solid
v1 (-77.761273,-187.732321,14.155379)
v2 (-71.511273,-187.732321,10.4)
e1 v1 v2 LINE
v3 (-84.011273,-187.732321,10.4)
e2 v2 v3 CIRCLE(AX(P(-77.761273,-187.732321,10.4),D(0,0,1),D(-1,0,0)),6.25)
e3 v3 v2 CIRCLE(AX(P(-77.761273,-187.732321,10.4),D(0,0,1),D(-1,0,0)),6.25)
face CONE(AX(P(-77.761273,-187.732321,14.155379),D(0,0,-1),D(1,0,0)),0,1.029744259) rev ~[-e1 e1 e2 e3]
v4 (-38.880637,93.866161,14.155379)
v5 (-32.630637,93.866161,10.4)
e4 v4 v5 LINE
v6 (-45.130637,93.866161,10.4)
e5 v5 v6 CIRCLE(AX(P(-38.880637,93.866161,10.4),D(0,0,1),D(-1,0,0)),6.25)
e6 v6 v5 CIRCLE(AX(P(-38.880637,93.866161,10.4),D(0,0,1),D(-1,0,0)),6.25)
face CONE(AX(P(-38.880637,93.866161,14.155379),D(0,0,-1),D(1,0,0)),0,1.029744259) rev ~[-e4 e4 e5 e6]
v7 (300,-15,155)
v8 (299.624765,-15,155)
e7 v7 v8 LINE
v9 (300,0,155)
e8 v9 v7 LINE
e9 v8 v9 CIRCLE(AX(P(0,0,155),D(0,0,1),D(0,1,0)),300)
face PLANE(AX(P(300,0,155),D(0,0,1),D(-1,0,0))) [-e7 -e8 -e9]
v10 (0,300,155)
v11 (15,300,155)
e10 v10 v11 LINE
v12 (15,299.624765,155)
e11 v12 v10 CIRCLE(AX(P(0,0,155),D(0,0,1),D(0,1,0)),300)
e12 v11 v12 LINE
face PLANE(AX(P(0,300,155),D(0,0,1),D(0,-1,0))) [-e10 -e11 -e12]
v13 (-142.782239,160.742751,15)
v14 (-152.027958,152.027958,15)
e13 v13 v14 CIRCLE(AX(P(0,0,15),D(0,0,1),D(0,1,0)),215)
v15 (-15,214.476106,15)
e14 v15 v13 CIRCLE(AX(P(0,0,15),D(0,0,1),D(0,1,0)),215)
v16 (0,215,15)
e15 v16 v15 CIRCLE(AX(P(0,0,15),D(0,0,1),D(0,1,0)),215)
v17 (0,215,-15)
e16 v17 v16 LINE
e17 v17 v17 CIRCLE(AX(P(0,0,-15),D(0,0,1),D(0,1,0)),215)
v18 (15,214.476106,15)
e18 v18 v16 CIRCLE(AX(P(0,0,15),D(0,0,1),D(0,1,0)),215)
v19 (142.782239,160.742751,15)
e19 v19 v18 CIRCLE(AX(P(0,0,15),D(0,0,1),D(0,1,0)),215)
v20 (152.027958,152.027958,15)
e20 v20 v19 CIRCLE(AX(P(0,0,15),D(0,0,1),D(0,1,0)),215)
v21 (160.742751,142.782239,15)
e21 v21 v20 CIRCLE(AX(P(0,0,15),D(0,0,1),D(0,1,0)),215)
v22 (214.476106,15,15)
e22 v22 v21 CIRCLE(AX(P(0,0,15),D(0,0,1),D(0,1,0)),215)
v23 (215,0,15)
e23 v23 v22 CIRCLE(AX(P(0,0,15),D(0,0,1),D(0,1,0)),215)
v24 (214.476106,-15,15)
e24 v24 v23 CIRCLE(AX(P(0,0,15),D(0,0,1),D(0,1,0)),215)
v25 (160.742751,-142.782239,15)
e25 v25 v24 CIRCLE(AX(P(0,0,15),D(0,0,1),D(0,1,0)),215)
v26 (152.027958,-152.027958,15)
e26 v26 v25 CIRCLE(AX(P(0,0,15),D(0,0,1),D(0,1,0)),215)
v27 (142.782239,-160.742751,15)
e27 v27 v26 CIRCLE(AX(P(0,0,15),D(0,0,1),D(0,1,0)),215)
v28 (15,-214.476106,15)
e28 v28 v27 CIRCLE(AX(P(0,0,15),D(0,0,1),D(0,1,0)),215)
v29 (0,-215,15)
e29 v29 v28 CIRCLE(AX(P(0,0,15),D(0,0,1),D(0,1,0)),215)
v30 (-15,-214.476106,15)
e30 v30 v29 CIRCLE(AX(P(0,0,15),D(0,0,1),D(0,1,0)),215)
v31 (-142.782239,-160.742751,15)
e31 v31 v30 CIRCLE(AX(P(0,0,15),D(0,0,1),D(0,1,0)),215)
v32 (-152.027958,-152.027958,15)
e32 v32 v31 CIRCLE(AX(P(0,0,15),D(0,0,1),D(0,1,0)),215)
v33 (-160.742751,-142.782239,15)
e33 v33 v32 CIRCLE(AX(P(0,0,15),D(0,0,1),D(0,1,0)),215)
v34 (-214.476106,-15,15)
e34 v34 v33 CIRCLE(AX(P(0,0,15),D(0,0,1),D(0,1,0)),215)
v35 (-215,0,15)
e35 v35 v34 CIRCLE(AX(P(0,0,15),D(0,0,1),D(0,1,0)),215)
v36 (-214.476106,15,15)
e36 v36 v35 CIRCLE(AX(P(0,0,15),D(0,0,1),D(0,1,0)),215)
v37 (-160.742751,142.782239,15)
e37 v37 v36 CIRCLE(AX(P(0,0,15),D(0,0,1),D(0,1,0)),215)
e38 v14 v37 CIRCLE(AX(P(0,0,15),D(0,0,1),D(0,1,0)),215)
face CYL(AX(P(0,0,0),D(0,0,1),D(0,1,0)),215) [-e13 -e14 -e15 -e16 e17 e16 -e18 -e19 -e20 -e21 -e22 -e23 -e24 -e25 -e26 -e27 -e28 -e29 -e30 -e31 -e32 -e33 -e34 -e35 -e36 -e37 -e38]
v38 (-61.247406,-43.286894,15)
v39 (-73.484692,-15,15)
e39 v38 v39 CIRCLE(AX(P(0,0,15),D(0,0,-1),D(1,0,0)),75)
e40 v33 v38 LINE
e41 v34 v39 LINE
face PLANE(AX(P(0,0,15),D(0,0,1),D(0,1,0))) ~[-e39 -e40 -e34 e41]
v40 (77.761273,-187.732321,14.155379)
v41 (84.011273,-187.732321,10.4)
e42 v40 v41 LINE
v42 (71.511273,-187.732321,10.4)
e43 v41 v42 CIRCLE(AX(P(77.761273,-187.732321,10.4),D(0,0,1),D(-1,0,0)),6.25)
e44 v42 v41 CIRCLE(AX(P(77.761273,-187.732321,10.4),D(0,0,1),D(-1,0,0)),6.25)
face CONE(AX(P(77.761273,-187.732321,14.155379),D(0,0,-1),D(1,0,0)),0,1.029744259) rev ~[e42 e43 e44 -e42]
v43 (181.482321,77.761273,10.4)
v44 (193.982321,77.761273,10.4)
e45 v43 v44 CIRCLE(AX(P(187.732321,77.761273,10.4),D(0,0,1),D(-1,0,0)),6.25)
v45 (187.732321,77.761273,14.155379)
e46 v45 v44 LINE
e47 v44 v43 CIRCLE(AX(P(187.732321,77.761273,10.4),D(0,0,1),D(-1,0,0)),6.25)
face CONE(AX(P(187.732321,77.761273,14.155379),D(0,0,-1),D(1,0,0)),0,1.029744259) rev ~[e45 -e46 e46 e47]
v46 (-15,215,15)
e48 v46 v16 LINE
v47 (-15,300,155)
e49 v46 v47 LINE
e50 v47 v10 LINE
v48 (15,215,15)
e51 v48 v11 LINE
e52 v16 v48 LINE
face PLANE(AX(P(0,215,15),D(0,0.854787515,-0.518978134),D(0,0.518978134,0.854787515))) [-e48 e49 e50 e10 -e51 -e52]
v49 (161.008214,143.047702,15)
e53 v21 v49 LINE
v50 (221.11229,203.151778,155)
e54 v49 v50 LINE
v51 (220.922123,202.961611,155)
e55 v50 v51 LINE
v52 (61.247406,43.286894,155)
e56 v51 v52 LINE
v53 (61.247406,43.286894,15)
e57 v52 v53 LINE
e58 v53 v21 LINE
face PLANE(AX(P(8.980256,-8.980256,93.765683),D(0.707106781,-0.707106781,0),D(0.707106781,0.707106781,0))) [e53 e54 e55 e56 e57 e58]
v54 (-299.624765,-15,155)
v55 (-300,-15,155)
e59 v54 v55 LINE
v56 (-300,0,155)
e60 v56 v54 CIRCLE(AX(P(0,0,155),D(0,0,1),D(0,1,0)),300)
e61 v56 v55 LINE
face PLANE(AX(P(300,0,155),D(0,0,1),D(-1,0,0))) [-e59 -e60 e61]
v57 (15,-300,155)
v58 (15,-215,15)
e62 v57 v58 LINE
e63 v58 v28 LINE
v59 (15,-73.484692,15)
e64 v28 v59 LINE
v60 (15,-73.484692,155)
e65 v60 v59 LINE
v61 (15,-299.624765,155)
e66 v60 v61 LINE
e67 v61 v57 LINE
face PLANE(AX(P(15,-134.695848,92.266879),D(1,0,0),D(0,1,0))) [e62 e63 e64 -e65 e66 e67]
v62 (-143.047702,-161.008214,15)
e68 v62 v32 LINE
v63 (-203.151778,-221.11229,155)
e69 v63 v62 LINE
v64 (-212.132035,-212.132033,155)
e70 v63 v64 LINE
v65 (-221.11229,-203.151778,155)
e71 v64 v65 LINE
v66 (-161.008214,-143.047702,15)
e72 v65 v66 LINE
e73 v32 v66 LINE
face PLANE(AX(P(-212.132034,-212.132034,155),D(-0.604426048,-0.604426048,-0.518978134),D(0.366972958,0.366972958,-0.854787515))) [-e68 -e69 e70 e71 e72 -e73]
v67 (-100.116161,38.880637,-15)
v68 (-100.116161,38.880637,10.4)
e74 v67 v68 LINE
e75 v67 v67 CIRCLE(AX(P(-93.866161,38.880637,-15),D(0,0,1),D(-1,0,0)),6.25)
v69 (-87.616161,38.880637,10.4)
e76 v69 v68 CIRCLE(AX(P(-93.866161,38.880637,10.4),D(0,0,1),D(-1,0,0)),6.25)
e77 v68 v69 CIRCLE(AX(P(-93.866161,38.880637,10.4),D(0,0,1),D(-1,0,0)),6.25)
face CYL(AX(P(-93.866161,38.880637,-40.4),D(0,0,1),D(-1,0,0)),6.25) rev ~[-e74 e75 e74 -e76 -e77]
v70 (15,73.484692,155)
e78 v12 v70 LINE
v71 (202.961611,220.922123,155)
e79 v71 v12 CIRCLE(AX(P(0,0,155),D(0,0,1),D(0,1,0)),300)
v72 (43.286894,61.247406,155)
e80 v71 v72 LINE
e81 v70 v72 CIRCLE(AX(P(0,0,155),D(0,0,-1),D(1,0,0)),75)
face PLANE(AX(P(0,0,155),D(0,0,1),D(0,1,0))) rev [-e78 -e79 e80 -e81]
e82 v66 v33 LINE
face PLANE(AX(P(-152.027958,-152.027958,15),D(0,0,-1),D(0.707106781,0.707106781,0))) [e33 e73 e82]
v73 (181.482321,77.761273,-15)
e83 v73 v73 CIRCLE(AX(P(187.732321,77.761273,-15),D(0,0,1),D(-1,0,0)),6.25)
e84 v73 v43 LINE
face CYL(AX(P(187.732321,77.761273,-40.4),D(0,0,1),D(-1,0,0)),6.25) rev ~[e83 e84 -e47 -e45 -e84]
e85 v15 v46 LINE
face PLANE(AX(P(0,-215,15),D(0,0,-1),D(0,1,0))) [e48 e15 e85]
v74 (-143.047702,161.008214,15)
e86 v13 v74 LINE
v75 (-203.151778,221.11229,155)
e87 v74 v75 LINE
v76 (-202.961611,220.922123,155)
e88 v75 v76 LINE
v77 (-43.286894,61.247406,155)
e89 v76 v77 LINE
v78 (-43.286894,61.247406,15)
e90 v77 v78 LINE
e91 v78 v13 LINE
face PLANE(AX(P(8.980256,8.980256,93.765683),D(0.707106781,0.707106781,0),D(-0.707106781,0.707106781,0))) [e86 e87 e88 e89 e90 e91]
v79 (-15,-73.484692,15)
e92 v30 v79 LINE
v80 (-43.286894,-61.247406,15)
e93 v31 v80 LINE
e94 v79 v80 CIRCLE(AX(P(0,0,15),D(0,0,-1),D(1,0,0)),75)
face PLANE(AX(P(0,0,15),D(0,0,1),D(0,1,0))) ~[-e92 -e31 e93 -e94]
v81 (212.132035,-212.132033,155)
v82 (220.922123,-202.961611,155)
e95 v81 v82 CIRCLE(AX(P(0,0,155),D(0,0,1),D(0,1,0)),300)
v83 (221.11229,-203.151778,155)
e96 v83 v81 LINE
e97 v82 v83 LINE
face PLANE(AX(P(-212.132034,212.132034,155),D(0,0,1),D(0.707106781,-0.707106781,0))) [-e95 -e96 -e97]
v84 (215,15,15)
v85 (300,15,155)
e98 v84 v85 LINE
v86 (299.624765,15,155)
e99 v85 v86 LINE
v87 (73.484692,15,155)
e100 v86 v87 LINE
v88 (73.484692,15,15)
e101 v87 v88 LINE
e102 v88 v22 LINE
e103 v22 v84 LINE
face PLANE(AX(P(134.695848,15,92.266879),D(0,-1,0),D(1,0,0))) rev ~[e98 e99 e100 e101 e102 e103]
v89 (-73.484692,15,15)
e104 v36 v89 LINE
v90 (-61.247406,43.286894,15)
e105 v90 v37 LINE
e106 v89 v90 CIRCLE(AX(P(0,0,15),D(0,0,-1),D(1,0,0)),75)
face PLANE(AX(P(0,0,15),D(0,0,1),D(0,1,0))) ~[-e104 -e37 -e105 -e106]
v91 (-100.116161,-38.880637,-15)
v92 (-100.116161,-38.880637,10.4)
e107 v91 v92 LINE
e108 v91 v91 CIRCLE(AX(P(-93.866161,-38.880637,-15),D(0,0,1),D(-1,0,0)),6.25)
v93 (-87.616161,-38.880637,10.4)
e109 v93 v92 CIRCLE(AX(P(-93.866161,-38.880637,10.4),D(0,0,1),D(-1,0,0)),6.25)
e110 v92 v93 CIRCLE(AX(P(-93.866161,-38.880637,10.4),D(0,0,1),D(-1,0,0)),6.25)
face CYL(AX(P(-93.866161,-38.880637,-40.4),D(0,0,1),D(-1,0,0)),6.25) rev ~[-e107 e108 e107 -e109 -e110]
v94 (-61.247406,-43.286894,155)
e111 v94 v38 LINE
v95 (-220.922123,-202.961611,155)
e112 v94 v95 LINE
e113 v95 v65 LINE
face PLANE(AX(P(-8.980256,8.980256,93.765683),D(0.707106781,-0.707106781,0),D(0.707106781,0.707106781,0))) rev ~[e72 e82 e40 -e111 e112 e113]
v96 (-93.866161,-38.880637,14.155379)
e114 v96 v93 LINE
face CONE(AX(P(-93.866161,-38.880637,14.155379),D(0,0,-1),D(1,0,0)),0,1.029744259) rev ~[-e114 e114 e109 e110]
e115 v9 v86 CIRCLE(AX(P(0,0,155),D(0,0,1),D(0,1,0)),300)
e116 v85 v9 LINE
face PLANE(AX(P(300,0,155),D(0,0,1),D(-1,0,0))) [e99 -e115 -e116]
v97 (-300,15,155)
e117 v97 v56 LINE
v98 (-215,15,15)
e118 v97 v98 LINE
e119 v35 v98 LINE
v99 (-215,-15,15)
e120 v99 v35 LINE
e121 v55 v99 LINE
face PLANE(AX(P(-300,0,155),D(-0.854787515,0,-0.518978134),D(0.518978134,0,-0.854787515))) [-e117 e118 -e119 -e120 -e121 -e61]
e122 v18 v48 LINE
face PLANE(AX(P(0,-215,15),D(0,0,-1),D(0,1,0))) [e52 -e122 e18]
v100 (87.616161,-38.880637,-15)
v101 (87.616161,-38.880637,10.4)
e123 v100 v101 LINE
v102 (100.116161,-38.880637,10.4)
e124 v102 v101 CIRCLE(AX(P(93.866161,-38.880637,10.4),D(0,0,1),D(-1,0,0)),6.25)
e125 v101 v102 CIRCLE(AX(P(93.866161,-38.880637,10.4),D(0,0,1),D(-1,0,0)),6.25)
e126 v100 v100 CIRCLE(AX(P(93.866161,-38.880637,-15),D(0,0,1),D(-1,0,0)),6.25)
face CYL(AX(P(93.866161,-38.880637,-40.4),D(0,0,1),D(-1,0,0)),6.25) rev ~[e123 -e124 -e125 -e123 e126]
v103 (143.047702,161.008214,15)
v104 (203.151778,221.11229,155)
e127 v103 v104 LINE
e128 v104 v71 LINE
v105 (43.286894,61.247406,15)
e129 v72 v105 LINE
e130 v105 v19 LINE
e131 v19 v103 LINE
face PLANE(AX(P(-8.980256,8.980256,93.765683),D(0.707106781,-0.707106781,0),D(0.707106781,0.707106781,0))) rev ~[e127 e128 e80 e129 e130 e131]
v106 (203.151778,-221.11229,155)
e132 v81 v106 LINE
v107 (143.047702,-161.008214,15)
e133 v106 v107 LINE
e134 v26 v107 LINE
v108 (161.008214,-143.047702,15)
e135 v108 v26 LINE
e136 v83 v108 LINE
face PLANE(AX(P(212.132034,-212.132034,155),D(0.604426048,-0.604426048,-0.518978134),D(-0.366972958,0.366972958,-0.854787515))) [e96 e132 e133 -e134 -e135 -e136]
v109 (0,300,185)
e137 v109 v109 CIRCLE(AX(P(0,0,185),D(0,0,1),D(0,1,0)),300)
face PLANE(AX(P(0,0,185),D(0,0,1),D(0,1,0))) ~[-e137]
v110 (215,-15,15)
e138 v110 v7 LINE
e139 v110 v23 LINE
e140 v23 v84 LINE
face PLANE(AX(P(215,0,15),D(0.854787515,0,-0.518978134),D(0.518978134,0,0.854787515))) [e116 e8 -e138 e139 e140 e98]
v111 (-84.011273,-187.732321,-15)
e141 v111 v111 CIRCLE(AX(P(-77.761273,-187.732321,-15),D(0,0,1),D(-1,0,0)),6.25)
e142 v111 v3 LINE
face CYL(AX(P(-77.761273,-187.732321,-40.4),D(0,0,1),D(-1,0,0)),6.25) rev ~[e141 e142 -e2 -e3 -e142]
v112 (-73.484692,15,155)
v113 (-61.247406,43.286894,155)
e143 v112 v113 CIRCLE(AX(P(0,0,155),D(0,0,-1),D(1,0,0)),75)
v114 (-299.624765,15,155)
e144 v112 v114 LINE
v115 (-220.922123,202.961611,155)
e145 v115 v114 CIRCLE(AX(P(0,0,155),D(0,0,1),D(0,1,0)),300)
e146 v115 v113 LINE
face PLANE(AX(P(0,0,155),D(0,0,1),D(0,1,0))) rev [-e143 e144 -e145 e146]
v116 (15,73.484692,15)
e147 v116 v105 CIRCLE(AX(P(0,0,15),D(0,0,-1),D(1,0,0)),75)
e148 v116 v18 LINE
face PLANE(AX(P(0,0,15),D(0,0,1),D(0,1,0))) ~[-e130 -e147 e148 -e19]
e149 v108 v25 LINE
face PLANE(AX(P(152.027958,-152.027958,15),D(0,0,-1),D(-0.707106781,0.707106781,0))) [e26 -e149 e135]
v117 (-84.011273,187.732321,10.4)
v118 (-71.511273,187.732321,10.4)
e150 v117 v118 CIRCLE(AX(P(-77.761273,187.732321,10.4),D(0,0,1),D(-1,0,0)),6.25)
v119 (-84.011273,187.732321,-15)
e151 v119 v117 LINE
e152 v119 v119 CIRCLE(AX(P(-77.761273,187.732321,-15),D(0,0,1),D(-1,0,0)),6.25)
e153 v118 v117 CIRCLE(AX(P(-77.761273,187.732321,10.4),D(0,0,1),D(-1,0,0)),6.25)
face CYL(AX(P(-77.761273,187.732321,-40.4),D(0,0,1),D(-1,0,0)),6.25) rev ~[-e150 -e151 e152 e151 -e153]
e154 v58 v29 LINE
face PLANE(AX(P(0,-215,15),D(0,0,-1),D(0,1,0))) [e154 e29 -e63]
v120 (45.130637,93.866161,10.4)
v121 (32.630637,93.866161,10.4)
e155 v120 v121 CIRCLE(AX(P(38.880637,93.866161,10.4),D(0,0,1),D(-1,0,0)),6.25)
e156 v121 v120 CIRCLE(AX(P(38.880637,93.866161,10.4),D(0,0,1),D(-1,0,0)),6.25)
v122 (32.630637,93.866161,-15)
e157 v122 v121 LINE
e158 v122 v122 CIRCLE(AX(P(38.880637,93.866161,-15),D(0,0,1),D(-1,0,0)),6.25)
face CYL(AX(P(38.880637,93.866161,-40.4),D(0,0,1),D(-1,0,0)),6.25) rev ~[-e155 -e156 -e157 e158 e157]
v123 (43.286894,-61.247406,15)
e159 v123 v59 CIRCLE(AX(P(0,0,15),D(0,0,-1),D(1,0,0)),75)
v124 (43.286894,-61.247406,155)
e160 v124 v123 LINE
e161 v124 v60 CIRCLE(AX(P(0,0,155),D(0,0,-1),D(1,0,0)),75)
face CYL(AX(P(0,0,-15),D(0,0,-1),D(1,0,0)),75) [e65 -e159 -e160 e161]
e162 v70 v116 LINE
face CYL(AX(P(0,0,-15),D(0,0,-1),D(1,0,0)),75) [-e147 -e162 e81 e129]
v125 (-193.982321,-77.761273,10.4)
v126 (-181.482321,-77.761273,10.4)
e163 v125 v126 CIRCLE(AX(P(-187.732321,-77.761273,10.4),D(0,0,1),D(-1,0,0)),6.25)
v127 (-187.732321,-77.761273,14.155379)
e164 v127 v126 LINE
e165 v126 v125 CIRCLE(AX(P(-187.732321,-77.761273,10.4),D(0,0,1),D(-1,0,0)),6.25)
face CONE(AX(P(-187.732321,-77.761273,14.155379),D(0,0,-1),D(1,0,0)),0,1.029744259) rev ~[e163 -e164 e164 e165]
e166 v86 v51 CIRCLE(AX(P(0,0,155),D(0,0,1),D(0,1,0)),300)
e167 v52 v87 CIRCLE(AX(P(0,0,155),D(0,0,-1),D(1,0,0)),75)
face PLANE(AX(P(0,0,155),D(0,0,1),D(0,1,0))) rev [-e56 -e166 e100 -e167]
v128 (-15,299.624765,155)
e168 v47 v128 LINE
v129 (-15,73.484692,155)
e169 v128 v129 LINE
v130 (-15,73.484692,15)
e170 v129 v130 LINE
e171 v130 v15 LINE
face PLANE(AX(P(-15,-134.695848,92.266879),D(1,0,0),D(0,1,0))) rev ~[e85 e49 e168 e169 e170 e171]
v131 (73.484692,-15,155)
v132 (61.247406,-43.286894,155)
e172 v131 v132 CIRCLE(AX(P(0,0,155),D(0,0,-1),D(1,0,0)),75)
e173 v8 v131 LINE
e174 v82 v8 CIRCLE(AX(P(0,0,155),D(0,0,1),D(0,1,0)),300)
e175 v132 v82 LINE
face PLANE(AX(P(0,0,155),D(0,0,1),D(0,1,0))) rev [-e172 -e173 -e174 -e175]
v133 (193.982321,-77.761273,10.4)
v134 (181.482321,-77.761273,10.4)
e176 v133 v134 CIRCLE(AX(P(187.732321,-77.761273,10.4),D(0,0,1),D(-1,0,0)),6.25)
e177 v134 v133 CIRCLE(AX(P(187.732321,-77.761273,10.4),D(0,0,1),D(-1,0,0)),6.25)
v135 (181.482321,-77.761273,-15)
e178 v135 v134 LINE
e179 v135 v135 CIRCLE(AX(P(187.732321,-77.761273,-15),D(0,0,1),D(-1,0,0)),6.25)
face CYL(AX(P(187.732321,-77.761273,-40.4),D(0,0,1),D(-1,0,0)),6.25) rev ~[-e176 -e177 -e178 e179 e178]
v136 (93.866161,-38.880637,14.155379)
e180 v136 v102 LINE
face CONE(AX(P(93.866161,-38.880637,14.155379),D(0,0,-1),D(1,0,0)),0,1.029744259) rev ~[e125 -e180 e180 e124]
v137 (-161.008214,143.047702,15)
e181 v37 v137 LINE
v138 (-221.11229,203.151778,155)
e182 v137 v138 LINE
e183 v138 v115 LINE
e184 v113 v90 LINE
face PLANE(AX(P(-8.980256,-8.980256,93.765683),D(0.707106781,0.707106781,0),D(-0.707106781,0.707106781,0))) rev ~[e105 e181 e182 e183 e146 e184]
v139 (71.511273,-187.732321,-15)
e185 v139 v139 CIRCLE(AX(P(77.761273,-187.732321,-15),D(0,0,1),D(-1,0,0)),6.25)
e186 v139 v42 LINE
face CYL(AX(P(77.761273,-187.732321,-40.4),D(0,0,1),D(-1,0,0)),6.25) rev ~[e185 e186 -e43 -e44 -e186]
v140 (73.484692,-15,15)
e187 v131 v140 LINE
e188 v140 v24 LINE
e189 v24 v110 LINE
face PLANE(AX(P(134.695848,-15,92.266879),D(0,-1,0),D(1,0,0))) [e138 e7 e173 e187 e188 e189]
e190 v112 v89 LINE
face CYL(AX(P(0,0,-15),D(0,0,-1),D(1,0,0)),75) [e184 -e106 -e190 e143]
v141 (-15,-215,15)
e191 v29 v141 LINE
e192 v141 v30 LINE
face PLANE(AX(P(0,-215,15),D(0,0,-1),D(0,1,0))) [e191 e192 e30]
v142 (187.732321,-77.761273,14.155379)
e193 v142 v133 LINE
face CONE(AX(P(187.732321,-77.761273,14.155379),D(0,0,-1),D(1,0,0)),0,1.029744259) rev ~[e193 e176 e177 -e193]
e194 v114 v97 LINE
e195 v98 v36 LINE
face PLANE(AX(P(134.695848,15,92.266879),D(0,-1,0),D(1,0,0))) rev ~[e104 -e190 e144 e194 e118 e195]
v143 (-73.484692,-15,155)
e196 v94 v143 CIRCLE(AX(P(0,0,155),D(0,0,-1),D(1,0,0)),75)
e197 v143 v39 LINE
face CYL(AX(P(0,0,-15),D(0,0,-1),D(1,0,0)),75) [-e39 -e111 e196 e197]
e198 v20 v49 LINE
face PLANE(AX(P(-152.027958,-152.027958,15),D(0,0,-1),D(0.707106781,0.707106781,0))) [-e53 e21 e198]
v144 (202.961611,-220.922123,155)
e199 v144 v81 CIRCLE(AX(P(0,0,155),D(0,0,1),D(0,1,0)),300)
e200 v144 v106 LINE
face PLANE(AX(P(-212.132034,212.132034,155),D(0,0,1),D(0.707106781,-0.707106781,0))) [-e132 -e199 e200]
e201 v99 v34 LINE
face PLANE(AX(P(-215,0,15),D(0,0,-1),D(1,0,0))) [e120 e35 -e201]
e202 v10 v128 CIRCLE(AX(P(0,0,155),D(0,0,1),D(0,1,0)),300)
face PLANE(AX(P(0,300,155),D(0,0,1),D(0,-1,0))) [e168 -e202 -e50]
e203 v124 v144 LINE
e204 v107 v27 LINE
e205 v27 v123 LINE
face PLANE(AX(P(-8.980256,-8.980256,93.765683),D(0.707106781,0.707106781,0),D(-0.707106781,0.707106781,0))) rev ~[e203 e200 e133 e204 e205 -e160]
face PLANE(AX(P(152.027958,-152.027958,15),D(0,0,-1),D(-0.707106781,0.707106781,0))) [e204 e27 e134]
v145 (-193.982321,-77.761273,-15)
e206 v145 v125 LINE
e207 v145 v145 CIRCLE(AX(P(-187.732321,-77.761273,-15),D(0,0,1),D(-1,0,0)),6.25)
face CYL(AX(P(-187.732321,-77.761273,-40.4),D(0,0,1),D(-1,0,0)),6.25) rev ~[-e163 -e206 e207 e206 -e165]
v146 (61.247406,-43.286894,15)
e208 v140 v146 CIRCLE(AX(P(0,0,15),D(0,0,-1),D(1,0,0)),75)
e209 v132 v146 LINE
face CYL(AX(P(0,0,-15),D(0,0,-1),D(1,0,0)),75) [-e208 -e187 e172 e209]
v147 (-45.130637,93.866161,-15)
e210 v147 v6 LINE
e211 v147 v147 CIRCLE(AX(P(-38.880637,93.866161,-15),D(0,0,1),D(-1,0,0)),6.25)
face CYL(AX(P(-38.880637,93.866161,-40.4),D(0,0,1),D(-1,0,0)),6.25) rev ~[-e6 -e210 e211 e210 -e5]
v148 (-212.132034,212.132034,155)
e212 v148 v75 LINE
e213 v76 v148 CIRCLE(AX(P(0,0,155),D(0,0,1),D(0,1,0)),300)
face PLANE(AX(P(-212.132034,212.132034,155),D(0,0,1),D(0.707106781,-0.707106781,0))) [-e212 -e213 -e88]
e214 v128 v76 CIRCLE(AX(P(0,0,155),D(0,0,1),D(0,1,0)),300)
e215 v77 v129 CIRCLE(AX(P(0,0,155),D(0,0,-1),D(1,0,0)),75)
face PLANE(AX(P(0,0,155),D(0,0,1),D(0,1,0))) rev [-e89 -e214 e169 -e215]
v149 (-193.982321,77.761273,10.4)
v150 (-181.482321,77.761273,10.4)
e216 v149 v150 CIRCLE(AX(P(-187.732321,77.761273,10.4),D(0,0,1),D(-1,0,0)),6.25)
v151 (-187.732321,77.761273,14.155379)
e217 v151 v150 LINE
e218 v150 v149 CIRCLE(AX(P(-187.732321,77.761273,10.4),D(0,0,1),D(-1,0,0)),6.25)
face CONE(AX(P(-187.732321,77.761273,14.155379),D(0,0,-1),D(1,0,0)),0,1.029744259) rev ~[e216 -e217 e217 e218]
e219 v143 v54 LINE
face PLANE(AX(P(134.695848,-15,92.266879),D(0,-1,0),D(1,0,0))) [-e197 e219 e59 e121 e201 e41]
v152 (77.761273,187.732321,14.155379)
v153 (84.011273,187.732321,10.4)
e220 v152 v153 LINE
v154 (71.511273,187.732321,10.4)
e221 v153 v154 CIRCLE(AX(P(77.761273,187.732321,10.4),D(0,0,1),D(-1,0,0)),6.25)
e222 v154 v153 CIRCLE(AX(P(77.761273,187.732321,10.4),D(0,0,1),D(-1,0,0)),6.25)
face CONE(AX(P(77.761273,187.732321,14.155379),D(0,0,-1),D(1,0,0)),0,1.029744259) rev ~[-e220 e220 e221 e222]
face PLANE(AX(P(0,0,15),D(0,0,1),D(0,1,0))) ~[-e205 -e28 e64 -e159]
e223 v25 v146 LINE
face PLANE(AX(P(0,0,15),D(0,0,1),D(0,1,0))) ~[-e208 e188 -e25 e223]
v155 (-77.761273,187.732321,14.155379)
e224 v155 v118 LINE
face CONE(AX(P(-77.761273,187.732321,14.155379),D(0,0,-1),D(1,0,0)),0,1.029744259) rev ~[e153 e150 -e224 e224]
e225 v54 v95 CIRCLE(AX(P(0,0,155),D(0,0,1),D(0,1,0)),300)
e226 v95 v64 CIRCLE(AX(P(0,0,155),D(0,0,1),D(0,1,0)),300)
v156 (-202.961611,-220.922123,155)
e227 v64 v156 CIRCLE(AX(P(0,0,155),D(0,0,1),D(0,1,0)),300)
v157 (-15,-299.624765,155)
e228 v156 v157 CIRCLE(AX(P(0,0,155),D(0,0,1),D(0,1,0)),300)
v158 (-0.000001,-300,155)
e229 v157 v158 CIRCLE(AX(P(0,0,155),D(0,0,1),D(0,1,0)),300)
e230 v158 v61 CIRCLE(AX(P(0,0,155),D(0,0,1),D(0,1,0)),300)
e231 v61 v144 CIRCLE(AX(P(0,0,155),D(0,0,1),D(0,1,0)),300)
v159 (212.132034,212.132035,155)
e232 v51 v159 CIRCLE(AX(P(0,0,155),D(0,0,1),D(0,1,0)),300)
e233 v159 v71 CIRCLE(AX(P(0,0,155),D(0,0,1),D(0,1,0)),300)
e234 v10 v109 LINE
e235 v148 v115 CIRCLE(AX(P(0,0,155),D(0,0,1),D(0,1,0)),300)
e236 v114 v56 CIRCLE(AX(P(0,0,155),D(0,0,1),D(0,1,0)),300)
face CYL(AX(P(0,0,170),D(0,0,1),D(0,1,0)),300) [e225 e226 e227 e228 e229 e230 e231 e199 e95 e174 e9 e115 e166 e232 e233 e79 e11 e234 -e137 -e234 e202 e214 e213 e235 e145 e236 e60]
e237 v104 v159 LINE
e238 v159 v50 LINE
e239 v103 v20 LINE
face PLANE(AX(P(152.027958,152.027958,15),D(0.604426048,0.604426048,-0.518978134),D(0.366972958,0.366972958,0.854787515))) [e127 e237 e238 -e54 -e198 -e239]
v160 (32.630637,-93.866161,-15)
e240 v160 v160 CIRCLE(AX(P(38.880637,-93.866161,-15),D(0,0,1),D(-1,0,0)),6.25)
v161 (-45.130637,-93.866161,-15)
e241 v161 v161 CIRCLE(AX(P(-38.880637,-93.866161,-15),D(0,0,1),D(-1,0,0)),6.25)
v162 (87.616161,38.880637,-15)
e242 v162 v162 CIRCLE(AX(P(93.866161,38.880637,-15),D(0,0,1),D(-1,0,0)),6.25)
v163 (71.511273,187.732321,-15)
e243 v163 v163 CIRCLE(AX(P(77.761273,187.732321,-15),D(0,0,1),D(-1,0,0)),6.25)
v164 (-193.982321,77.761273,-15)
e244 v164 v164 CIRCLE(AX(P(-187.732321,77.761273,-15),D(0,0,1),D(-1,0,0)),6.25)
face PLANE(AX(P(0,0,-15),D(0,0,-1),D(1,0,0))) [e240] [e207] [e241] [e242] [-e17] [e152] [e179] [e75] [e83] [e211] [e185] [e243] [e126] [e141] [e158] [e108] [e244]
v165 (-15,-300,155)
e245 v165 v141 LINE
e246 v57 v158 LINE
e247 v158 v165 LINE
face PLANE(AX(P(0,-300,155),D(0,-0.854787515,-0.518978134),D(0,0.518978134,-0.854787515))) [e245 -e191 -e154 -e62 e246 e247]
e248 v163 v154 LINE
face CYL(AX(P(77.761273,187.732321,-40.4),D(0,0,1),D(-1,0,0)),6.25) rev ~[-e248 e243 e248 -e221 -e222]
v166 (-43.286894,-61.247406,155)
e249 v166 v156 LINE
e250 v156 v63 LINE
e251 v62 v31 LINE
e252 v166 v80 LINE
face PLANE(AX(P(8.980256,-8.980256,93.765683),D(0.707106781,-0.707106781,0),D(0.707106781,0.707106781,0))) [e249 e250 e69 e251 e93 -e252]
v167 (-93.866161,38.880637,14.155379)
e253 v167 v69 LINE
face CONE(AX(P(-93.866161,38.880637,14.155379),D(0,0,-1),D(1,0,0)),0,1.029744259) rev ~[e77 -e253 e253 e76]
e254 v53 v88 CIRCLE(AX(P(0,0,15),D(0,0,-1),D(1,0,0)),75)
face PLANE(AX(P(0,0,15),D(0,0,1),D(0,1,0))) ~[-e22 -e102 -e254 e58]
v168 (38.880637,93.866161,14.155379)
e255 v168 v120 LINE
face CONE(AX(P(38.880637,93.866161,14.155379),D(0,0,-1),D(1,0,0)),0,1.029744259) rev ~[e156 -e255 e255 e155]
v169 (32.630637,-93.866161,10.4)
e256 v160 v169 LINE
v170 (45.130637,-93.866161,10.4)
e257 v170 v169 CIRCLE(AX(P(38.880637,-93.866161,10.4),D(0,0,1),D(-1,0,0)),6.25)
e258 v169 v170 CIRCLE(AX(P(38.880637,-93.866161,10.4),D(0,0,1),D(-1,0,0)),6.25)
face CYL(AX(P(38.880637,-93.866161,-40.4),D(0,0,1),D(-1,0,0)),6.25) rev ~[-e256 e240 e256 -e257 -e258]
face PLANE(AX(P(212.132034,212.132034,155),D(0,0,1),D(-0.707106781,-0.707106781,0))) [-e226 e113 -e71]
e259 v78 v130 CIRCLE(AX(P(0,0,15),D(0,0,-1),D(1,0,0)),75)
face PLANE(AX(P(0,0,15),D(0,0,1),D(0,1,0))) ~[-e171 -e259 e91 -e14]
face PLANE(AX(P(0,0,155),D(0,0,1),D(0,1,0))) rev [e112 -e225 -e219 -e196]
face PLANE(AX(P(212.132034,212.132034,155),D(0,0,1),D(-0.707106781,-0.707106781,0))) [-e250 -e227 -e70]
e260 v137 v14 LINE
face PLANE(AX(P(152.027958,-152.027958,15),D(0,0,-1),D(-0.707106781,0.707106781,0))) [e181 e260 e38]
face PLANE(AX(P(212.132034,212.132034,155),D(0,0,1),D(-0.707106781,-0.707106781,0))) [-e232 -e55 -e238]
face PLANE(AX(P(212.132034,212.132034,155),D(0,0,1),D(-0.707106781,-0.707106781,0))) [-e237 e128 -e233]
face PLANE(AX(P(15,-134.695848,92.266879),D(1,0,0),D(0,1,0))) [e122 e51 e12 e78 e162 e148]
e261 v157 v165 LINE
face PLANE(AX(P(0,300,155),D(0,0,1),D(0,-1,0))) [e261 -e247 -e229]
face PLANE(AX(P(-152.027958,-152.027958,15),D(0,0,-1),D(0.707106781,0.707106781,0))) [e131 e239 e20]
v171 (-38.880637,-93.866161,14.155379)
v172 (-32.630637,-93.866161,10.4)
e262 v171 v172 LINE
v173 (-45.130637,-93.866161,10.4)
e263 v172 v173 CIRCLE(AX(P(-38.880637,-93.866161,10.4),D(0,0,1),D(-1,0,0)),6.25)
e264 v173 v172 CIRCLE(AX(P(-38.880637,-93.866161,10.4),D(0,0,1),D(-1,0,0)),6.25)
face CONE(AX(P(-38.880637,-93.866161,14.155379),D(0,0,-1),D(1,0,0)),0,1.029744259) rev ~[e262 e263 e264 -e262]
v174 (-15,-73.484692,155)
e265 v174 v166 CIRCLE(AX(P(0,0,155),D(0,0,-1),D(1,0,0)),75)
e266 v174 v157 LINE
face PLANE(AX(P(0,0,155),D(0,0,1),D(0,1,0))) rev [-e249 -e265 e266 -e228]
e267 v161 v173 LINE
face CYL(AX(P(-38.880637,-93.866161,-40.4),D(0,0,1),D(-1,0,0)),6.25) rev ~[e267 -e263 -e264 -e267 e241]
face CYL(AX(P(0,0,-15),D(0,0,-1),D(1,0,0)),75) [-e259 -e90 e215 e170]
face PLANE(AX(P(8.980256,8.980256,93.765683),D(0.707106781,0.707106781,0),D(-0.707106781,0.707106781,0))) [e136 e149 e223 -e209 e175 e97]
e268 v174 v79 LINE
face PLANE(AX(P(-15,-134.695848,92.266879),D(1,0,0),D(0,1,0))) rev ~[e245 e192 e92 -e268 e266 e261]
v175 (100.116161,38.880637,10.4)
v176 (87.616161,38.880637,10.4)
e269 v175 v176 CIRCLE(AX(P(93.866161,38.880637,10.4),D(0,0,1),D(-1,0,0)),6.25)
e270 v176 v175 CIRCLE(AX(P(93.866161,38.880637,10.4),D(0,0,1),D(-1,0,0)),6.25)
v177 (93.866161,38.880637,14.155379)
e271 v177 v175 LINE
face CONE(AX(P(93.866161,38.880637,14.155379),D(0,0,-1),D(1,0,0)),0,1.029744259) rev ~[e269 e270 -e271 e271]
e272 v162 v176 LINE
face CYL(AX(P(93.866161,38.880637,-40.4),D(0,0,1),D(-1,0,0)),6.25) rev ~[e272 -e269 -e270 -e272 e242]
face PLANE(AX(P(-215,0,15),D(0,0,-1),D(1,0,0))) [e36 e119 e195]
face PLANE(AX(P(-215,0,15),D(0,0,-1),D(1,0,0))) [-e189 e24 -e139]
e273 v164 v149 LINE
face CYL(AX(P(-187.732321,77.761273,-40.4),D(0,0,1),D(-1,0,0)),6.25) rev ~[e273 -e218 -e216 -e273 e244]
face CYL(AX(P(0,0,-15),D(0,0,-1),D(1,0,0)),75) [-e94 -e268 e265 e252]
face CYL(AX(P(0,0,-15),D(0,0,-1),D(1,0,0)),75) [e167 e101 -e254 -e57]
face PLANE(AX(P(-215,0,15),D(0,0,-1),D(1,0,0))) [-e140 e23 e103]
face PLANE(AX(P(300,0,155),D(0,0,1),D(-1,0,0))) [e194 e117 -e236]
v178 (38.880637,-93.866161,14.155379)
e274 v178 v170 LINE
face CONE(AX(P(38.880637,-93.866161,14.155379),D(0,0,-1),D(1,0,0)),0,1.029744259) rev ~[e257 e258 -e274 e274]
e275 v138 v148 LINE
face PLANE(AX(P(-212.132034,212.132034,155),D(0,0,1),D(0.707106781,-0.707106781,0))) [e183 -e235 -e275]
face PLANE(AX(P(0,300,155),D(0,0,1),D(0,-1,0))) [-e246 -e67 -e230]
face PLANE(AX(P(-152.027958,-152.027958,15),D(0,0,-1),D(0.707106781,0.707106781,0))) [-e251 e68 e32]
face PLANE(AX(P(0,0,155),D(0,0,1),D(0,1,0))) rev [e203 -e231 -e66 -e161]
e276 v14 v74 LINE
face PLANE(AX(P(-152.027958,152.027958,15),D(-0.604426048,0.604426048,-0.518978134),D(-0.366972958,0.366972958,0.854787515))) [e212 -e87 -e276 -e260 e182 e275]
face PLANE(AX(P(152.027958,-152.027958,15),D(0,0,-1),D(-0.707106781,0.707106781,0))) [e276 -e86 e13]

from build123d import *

# Parameters (mm, degrees)
F0_W      = 215
F0_H      = 30
F0_W_2    = 300
F3_DEPTH  = 15
F5_DEPTH  = 15
F8_DEPTH  = 12.7
F11_DEPTH = 12.7
F13_D     = 12.5
F13_DEPTH = 25.4
F13_TIP   = 3.7553788689
F14_R     = 75
F15_DEPTH = 200


with BuildPart() as f1:
    # F0 (on Right) → F1 (revolve)
    with BuildSketch(Plane.YZ):
        with Locations((107.5, 0)):
            Rectangle(F0_W, F0_H)
    revolve(axis=Axis((0, 0, 0), (0, 0, 1)))



with BuildPart() as f2:
    # F0 (on Right) → F2 (revolve)
    with BuildSketch(Plane.YZ):
        with Locations((150, 170)):
            Rectangle(F0_W_2, F0_H)
    revolve(axis=Axis((0, 0, 170), (0, 0, 1)))


with BuildPart() as f1_1:
    add(f1.part)

    add(f2.part)  # F3 merges F2
    # F0 (on Right) → F3 (join, symmetric)
    with BuildSketch(Plane.YZ):
        Polygon((-215, 15), (0, 15), (0, 155), (-300, 155), align=None)
        Polygon((0, 15), (215, 15), (300, 155), (0, 155), align=None)
    extrude(amount=F3_DEPTH, both=True)

    # F4 (on Front) → F5 (join, symmetric)
    with BuildSketch(Plane.XZ):
        Polygon((0, 15), (215, 15), (300, 155), (0, 155), align=None)
        Polygon((-215, 15), (0, 15), (0, 155), (-300, 155), align=None)
    extrude(amount=F5_DEPTH, both=True)

    # F7 (on line) → F8 (join, symmetric)
    with BuildSketch(Plane(origin=(0, 0, 0), x_dir=(-0.7071067812, 0.7071067812, 0), z_dir=(0.7071067812, 0.7071067812, 0))):
        Polygon((-215, 15), (215, 15), (300, 155), (-300, 155), align=None)
    extrude(amount=F8_DEPTH, both=True)

    # F10 (on line) → F11 (join, symmetric)
    with BuildSketch(Plane(origin=(0, 0, 0), x_dir=(0.7071067812, 0.7071067812, 0), z_dir=(0.7071067812, -0.7071067812, 0))):
        Polygon((-215, 15), (215, 15), (300, 155), (-300, 155), align=None)
    extrude(amount=F11_DEPTH, both=True)

    # F13
    with Locations(Plane(origin=(0, 0, -15), x_dir=(1, 0, 0), z_dir=(0, 0, -1))):
        with Locations((-187.7323210063, 77.7612734566), (-77.7612734566, 187.7323210063), (77.7612734566, 187.7323210063), (187.7323210063, 77.7612734566), (187.7323210063, -77.7612734566), (77.7612734566, -187.7323210063), (-77.7612734566, -187.7323210063), (-187.7323210063, -77.7612734566), (-93.8661605031, -38.8806367283), (-38.8806367283, -93.8661605031), (38.8806367283, -93.8661605031), (93.8661605031, -38.8806367283), (93.8661605031, 38.8806367283), (38.8806367283, 93.8661605031), (-38.8806367283, 93.8661605031), (-93.8661605031, 38.8806367283)):
            Hole(F13_D / 2, depth=F13_DEPTH)
            with Locations((0, 0, -(F13_DEPTH + F13_TIP / 2))):  # 118° drill point
                Cone(0, F13_D / 2, F13_TIP, mode=Mode.SUBTRACT)

    # F14 (on face) → F15 (join)
    with BuildSketch(Plane(origin=(0, 0, -15), x_dir=(1, 0, 0), z_dir=(0, 0, -1))):
        Circle(F14_R)
    extrude(amount=-F15_DEPTH)


solid = f1_1.part
